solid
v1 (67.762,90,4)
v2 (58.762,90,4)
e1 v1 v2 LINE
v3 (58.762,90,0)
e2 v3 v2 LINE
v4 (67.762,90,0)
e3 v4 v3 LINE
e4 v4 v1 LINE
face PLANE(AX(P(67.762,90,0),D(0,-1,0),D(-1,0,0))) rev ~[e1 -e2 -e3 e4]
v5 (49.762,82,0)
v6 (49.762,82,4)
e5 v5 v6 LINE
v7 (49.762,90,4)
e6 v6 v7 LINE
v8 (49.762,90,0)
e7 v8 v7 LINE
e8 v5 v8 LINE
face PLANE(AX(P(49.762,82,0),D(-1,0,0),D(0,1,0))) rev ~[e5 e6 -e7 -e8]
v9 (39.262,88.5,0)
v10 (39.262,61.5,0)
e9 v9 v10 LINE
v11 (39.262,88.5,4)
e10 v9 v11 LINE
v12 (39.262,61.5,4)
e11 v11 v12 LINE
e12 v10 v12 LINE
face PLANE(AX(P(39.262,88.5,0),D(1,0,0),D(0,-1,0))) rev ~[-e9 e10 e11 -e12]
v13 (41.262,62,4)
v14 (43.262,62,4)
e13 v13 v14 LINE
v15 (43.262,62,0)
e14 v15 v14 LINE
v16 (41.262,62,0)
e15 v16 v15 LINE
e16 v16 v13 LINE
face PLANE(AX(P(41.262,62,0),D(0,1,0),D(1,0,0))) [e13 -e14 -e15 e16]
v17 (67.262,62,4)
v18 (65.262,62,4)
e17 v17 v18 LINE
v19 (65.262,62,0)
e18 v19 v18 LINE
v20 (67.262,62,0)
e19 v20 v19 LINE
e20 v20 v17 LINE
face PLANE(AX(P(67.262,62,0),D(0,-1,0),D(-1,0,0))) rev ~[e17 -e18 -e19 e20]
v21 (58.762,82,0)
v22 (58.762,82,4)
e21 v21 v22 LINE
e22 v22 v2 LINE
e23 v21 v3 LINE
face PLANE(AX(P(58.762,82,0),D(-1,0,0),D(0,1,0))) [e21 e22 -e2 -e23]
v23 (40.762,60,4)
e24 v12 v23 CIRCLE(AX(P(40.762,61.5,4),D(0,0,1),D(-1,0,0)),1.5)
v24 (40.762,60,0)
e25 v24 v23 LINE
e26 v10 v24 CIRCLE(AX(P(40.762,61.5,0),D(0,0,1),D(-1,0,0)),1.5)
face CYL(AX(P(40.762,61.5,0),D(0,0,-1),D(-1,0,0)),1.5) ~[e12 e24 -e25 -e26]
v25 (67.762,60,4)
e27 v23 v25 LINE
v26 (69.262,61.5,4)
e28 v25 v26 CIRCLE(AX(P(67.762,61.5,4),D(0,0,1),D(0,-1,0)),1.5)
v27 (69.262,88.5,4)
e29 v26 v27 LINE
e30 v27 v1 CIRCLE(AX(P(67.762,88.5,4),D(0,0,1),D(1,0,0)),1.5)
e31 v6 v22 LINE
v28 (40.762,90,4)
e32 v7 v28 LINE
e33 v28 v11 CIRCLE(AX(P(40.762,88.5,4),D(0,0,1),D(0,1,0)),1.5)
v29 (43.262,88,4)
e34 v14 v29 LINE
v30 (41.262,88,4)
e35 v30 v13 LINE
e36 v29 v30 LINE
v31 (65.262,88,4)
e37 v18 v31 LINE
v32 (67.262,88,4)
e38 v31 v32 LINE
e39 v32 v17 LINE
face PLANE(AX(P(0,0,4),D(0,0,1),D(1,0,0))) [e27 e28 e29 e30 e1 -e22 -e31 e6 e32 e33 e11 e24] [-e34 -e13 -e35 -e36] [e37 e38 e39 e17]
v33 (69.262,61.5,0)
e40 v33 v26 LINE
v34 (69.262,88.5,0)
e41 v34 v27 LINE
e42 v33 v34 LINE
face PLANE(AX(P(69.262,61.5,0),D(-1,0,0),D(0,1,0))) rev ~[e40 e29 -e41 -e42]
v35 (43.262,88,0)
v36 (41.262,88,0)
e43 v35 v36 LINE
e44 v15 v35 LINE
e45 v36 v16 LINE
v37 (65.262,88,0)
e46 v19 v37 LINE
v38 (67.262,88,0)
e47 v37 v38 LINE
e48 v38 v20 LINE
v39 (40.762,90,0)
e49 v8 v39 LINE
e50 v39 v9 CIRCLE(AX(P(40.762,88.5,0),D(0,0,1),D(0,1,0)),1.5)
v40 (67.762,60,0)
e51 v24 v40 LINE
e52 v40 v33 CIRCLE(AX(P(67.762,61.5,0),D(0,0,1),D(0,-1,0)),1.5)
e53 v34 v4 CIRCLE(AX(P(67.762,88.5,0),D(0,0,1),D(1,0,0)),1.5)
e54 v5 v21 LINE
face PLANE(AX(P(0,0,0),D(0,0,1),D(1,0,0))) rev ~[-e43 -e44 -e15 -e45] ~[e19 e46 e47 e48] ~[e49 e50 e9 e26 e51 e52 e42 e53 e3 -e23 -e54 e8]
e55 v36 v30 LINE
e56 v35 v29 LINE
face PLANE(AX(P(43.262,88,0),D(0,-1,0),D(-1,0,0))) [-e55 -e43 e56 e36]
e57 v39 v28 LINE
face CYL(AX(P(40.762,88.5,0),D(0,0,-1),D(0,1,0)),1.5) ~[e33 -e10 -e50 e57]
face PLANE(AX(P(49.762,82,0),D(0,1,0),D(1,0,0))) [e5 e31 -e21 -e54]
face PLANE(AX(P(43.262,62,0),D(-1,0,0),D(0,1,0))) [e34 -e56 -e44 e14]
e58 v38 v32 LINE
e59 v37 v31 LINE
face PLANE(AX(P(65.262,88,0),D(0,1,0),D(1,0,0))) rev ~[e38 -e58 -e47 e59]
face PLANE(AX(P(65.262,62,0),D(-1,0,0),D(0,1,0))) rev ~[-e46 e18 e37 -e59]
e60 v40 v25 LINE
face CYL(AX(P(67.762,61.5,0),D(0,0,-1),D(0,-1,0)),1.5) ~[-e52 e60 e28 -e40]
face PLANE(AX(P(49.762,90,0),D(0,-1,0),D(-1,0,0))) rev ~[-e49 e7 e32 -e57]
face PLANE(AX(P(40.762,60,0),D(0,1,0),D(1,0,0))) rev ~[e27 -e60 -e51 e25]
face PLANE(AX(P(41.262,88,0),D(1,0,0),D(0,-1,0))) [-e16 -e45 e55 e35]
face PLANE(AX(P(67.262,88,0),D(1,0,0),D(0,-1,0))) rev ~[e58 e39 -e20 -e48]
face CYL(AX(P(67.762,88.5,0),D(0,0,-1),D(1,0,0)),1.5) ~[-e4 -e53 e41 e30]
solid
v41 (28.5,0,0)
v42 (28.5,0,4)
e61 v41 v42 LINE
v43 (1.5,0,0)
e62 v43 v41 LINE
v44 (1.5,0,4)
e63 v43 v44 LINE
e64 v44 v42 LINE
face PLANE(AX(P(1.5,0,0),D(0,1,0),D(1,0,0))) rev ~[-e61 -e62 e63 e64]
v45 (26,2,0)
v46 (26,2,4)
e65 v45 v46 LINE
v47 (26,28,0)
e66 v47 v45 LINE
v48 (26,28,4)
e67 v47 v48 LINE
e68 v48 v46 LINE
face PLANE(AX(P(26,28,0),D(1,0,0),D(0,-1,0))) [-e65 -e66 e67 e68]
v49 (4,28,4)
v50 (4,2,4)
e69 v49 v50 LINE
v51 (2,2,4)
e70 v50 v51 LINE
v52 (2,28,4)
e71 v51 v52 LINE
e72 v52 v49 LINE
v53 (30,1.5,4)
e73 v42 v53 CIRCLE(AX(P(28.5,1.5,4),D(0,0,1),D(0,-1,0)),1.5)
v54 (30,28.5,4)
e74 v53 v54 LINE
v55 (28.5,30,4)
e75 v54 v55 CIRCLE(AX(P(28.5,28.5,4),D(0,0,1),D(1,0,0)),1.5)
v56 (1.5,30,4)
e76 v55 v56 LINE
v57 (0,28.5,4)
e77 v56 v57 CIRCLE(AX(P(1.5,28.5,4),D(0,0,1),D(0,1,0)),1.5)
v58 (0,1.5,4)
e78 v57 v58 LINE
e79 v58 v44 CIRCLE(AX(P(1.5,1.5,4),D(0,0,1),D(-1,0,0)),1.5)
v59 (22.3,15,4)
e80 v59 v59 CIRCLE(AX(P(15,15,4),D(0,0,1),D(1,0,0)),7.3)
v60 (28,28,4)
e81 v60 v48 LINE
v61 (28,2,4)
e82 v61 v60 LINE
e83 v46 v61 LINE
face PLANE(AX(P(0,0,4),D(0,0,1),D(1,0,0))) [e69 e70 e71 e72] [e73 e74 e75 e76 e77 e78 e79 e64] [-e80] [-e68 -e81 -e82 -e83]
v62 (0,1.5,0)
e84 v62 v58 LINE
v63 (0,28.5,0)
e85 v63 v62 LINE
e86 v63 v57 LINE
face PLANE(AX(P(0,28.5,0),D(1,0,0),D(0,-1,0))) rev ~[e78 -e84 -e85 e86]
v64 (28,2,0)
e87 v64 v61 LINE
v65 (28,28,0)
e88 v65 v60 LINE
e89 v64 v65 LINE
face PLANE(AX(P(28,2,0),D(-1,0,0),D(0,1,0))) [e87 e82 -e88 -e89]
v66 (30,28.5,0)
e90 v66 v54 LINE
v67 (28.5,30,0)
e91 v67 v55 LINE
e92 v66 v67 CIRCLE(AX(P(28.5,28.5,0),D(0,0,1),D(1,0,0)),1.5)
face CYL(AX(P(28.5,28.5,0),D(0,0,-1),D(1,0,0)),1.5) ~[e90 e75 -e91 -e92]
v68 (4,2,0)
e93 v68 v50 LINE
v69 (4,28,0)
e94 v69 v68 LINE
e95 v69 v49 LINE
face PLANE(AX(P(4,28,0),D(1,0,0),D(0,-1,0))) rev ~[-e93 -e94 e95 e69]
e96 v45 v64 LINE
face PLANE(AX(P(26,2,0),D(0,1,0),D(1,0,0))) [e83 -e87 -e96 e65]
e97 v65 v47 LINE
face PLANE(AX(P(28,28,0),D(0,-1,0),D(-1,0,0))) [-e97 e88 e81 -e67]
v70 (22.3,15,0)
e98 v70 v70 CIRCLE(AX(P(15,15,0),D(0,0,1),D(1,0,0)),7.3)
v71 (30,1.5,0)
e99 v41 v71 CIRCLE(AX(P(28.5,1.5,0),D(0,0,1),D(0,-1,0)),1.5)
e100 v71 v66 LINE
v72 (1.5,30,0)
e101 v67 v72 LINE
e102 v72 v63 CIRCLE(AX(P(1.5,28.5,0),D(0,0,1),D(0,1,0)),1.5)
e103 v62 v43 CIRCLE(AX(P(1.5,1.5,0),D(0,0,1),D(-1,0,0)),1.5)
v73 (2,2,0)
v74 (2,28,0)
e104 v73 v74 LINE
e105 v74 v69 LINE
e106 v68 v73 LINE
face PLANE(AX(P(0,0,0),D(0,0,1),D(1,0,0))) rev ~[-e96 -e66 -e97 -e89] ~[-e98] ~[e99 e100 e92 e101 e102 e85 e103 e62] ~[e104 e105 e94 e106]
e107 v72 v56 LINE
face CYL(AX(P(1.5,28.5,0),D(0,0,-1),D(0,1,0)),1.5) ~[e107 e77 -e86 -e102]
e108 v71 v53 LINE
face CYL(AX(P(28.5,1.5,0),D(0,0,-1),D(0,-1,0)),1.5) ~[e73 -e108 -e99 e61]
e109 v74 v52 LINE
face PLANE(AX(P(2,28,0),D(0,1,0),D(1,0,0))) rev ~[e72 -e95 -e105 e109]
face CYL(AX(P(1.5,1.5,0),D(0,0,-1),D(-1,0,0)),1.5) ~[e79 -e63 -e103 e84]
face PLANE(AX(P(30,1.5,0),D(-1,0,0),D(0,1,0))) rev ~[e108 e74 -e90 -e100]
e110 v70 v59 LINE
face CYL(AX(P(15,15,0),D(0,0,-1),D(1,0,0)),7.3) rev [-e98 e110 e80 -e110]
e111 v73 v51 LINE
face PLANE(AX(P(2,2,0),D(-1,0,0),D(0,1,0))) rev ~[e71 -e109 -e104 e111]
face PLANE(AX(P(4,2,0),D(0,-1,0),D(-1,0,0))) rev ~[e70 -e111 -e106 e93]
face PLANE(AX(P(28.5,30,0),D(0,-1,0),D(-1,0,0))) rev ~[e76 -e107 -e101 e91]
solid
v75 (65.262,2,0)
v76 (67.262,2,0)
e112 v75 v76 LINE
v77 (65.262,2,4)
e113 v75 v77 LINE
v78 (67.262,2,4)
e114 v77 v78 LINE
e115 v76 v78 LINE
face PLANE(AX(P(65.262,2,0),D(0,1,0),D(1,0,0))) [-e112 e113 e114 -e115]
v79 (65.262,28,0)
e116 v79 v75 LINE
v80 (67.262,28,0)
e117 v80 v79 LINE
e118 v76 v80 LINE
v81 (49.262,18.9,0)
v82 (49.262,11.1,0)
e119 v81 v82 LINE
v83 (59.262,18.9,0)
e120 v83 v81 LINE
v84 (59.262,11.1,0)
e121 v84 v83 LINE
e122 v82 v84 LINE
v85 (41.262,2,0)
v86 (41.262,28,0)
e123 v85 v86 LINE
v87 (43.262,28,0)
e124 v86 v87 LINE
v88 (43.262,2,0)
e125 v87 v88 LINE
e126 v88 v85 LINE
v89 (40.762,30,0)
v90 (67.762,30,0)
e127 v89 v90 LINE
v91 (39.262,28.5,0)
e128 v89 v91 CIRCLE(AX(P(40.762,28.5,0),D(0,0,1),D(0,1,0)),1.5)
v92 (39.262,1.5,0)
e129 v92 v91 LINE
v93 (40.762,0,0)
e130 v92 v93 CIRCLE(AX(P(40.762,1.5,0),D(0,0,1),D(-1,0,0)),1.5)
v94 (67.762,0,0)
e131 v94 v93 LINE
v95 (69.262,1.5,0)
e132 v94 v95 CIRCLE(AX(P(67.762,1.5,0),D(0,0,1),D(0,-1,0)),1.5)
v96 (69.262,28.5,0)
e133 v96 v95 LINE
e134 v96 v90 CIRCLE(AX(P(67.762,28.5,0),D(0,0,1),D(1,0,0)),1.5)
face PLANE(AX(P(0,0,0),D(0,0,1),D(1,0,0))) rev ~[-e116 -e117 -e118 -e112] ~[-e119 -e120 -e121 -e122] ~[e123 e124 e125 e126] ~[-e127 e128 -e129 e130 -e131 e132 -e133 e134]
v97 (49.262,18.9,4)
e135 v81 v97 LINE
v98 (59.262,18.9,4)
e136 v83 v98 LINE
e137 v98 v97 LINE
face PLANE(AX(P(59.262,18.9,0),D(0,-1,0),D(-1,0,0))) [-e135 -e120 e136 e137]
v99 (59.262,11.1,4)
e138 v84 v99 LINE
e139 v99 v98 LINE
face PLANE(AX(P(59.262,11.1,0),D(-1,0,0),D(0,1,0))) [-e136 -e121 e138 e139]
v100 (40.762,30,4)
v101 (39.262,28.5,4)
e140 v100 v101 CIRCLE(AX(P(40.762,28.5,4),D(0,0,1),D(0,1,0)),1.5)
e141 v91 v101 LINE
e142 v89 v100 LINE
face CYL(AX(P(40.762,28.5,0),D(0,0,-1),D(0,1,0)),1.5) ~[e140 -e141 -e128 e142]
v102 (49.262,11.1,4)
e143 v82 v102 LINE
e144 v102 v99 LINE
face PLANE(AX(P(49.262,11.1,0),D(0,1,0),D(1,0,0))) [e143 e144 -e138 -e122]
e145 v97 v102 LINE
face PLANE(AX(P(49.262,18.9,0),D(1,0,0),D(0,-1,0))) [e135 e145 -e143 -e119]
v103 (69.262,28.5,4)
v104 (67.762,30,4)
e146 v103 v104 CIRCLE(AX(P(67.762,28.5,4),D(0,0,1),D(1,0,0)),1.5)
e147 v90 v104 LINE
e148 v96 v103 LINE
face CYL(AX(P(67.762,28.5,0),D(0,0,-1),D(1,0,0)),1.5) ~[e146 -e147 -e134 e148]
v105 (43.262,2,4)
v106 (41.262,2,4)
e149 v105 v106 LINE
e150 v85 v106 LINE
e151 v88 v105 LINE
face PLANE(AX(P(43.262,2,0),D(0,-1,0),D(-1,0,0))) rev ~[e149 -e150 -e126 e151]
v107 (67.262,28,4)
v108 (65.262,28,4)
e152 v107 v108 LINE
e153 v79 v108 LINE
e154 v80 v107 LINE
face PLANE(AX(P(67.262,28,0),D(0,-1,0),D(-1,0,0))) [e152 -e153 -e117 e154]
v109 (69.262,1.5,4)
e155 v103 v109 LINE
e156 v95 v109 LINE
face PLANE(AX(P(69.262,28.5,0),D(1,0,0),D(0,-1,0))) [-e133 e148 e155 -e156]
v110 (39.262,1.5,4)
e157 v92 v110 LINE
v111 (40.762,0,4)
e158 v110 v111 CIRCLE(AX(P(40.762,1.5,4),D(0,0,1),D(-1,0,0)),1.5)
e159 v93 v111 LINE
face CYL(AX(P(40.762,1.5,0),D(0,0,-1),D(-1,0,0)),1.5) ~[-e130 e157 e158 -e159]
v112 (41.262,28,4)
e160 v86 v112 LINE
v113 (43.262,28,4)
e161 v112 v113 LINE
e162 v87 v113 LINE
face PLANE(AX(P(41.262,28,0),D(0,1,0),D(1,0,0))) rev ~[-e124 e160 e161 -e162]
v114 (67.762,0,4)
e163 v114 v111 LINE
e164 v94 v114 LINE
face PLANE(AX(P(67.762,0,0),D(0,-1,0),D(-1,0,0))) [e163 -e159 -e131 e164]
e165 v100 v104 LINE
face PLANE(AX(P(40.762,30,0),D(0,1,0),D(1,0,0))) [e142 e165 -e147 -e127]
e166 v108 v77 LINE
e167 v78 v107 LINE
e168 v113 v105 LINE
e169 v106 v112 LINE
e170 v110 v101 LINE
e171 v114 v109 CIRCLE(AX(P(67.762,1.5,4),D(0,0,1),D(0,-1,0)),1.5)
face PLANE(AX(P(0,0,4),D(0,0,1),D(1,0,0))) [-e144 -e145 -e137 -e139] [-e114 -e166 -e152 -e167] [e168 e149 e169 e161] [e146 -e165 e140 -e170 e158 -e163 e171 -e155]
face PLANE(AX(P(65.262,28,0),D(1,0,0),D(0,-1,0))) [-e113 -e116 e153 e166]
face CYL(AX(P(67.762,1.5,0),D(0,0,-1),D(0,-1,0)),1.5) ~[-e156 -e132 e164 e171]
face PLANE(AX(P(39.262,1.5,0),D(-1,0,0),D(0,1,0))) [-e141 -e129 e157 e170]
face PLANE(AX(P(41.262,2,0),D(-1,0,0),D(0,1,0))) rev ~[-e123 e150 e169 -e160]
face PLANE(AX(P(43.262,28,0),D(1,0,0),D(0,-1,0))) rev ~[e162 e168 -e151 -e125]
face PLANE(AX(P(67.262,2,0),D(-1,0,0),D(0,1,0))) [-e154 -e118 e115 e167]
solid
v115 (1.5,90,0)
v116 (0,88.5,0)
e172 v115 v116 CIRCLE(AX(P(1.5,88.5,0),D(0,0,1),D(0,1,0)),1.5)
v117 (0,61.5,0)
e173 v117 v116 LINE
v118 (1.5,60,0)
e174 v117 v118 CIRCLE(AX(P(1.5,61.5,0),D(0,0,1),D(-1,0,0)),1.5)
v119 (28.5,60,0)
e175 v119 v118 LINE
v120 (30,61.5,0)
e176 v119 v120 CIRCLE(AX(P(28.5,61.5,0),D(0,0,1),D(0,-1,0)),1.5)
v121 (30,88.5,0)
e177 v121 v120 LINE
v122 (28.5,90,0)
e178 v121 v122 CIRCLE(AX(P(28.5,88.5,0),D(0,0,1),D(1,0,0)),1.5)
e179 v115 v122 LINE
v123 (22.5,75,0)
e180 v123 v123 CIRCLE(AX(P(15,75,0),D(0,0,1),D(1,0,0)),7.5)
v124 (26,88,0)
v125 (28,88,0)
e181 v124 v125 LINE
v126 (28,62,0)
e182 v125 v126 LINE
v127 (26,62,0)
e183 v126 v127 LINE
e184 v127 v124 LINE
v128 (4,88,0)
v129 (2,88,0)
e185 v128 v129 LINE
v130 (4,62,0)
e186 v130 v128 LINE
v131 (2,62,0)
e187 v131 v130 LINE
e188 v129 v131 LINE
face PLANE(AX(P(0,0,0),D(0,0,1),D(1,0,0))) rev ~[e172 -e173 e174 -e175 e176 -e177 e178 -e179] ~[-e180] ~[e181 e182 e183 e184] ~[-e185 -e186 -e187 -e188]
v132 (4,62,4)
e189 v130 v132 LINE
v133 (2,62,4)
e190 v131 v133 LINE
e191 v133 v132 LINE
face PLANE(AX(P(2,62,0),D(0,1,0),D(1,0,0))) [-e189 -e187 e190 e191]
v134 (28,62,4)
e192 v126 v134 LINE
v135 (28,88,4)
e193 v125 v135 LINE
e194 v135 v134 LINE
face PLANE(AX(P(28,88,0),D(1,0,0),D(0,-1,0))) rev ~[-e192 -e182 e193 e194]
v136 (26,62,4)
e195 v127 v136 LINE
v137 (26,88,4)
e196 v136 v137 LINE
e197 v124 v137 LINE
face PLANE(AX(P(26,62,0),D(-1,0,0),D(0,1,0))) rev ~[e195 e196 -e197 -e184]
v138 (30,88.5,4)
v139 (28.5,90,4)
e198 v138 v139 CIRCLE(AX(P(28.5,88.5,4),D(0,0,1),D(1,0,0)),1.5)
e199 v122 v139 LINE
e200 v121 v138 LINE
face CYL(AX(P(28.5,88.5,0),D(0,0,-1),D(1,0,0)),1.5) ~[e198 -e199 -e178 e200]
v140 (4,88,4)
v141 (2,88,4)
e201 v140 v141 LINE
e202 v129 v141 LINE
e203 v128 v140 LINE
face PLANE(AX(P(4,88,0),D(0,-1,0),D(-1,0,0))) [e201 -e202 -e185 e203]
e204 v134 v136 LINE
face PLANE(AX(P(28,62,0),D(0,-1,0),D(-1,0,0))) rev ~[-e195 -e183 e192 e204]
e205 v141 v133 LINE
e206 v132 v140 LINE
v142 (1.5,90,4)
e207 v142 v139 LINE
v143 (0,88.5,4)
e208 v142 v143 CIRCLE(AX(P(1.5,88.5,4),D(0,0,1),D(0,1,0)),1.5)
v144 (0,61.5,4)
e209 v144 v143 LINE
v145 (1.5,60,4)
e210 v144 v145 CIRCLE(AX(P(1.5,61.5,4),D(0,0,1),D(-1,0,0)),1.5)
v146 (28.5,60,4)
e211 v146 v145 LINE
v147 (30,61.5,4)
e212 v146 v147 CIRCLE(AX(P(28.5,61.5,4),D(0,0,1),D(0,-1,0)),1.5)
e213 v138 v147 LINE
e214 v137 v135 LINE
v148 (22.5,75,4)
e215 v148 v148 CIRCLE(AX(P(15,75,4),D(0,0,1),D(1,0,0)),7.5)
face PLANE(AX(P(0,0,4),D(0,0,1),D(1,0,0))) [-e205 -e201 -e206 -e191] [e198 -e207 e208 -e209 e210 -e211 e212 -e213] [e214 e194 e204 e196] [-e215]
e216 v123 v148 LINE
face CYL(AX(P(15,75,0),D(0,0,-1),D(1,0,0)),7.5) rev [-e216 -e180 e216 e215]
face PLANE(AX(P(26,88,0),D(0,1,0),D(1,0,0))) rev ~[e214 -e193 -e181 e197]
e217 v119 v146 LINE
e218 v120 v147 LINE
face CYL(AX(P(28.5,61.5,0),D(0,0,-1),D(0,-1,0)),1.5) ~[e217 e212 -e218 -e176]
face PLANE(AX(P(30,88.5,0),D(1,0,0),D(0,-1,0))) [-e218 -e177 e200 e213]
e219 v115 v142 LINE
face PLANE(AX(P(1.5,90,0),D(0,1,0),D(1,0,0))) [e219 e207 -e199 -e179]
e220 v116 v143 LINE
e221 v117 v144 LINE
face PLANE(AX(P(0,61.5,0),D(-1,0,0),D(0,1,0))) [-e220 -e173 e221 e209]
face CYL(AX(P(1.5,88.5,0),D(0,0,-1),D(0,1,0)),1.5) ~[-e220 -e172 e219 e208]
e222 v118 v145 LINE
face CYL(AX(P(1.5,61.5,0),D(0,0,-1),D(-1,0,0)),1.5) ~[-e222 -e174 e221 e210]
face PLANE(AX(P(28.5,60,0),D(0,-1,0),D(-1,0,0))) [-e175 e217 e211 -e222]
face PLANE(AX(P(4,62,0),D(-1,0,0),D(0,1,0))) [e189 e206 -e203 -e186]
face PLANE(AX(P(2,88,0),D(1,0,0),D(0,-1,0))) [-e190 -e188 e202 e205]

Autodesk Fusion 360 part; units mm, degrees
ref_plane "WorkPlane1" through (0, 0, 0) normal (0, 0, 1) x (1, 0, 0)
sketch "Sketch1" plane through (0, 0, 0) normal (0, 0, 1) x (1, 0, 0)
  line L0 (1.5, 0) -> (28.5, 0)
  line L1 (30, 1.5) -> (30, 28.5)
  line L2 (28.5, 30) -> (1.5, 30)
  line L3 (0, 28.5) -> (0, 1.5)
  arc A0 (30, 28.5) -> (28.5, 30) centre (28.5, 28.5) ccw
  arc A1 (1.5, 30) -> (0, 28.5) centre (1.5, 28.5) ccw
  arc A2 (0, 1.5) -> (1.5, 0) centre (1.5, 1.5) ccw
  arc A3 (28.5, 0) -> (30, 1.5) centre (28.5, 1.5) ccw
  line L4 (15, 0) -> (15, 30) construction
  line L5 (34.631, -0.4878) -> (34.631, 26.5001) construction
  line L6 (30, 15) -> (0, 15) construction
  arc A4 (40.762, 30) -> (39.262, 28.5) centre (40.762, 28.5) ccw
  line L7 (40.762, 30) -> (67.762, 30)
  arc A5 (69.262, 28.5) -> (67.762, 30) centre (67.762, 28.5) ccw
  line L8 (69.262, 28.5) -> (69.262, 1.5)
  arc A6 (67.762, 0) -> (69.262, 1.5) centre (67.762, 1.5) ccw
  line L9 (67.762, 0) -> (40.762, 0)
  arc A7 (39.262, 1.5) -> (40.762, 0) centre (40.762, 1.5) ccw
  line L10 (39.262, 1.5) -> (39.262, 28.5)
  line L11 (39.262, 15) -> (69.262, 15) construction
  line L12 (54.262, 0) -> (54.262, 30) construction
  line L13 (4, 2) -> (2, 2)
  line L14 (2, 2) -> (2, 28)
  line L15 (2, 28) -> (4, 28)
  line L16 (4, 28) -> (4, 2)
  line L17 (28, 28) -> (26, 28)
  line L18 (26, 28) -> (26, 2)
  line L19 (28, 2) -> (28, 28)
  line L20 (26, 2) -> (28, 2)
  line L21 (67.262, 28) -> (65.262, 28)
  line L22 (65.262, 28) -> (65.262, 2)
  line L23 (67.262, 2) -> (67.262, 28)
  line L24 (65.262, 2) -> (67.262, 2)
  line L25 (43.262, 28) -> (43.262, 2)
  line L26 (41.262, 2) -> (41.262, 28)
  line L27 (43.262, 2) -> (41.262, 2)
  line L28 (41.262, 28) -> (43.262, 28)
  line L29 (0, 45) -> (70, 45) construction
  line L30 (67.262, 62) -> (65.262, 62)
  line L31 (43.262, 62) -> (43.262, 88)
  line L32 (28, 88) -> (28, 62)
  arc A8 (28.5, 60) -> (30, 61.5) centre (28.5, 61.5) ccw
  line L33 (34.631, 90.4878) -> (34.631, 63.4999) construction
  line L34 (4, 88) -> (2, 88)
  line L35 (15, 90) -> (15, 60) construction
  line L36 (39.262, 75) -> (69.262, 75) construction
  arc A9 (40.762, 90) -> (39.262, 88.5) centre (40.762, 88.5) ccw
  arc A10 (30, 88.5) -> (28.5, 90) centre (28.5, 88.5) ccw
  arc A11 (67.762, 60) -> (69.262, 61.5) centre (67.762, 61.5) ccw
  line L37 (0, 61.5) -> (0, 88.5)
  line L38 (30, 88.5) -> (30, 61.5)
  line L39 (1.5, 90) -> (28.5, 90)
  arc A12 (1.5, 90) -> (0, 88.5) centre (1.5, 88.5) ccw
  line L40 (4, 62) -> (4, 88)
  line L41 (28, 62) -> (26, 62)
  arc A13 (39.262, 61.5) -> (40.762, 60) centre (40.762, 61.5) ccw
  line L42 (65.262, 88) -> (67.262, 88)
  line L43 (26, 88) -> (28, 88)
  line L44 (65.262, 62) -> (65.262, 88)
  line L45 (41.262, 62) -> (43.262, 62)
  line L46 (67.262, 88) -> (67.262, 62)
  line L47 (2, 88) -> (2, 62)
  line L48 (2, 62) -> (4, 62)
  line L49 (67.762, 90) -> (40.762, 90)
  line L50 (69.262, 61.5) -> (69.262, 88.5)
  arc A14 (0, 61.5) -> (1.5, 60) centre (1.5, 61.5) ccw
  line L51 (40.762, 60) -> (67.762, 60)
  line L52 (41.262, 88) -> (41.262, 62)
  line L53 (28.5, 60) -> (1.5, 60)
  line L54 (30, 75) -> (0, 75) construction
  line L55 (54.262, 90) -> (54.262, 60) construction
  line L56 (43.262, 88) -> (41.262, 88)
  arc A15 (69.262, 88.5) -> (67.762, 90) centre (67.762, 88.5) ccw
  line L57 (26, 62) -> (26, 88)
  line L58 (39.262, 88.5) -> (39.262, 61.5)
  circle A16 centre (15, 15) radius 7.3
  circle A17 centre (15, 75) radius 7.5
  line L59 (59.262, 18.9) -> (49.262, 18.9)
  line L60 (49.262, 18.9) -> (49.262, 11.1)
  line L61 (49.262, 11.1) -> (59.262, 11.1)
  line L62 (59.262, 11.1) -> (59.262, 18.9)
  line L63 (59.262, 18.9) -> (49.262, 11.1) construction
  line L64 (49.262, 18.9) -> (59.262, 11.1) construction
  line L65 (49.762, 82) -> (58.762, 82)
  line L66 (15, 82.5) -> (61.4441, 82.5) construction
  line L67 (49.762, 82) -> (49.762, 90)
  line L68 (58.762, 82) -> (58.762, 90)
  line L69 (58.762, 90) -> (49.762, 90)
  point P0 (30, 0)
  point P1 (0, 30)
  point P2 (0, 90)
  point P3 (0, 60)
  point P4 (30, 90)
  point P5 (0, 90)
  point P6 (54.262, 15)
  dimension "d9" = 30
  dimension "d10" = 30
  dimension "d18" = 1.5
  dimension "d19" = 1.5
  dimension "d20" = 1.5
  dimension "d21" = 1.5
  dimension "d41" = 2
  dimension "d42" = 2
  dimension "d43" = 2
  dimension "d44" = 2
  dimension "d45" = 14.6
  dimension "d46" = 15
  dimension "d54" = 10
  dimension "d55" = 7.8
  dimension "d57" = 9
extrude "Extrude4" add sketch "Sketch1" along normal blind 4 contours L0 L1 L2 L3 A0 A1 A2 A3 | A4 L7 A5 L8 A6 L9 A7 L10 | A8 A10 L37 L38 L39 A12 A14 L53 | A9 A11 A13 L49 L50 L51 A15 L58 L65 L67 L68 makes body 1 at (14.8182, 26.0932, 0) makes body 2 at (15.1868, 63.8403, 0) makes body 3 at (52.5953, 5.0333, 0) makes body 4 at (55.762, 68.6667, 0)
sketch "speaker_top" plane through (0, 0, 4) normal (0, 0, 1) x (-1, 0, 0)
  circle A0 centre (-15, -75) radius 7.5
  line L0 (-28, -62) -> (-26, -62)
  line L1 (-26, -62) -> (-26, -88)
  line L2 (-26, -88) -> (-28, -88)
  line L3 (-28, -88) -> (-28, -62)
  line L4 (-4, -62) -> (-2, -62)
  line L5 (-2, -62) -> (-2, -88)
  line L6 (-2, -88) -> (-4, -88)
  line L7 (-4, -88) -> (-4, -62)
  arc A1 (-30, -88.5) -> (-28.5, -90) centre (-28.5, -88.5) ccw
  line L8 (-28.5, -90) -> (-1.5, -90)
  arc A2 (-1.5, -90) -> (0, -88.5) centre (-1.5, -88.5) ccw
  line L9 (0, -88.5) -> (0, -61.5)
  arc A3 (0, -61.5) -> (-1.5, -60) centre (-1.5, -61.5) ccw
  line L10 (-1.5, -60) -> (-28.5, -60)
  arc A4 (-28.5, -60) -> (-30, -61.5) centre (-28.5, -61.5) ccw
  line L11 (-30, -61.5) -> (-30, -88.5)
sketch "speaker_bottom" plane through (0, 0, 4) normal (0, 0, 1) x (-1, 0, 0)
  line L0 (-41.262, -88) -> (-43.262, -88)
  line L1 (-43.262, -88) -> (-43.262, -62)
  line L2 (-43.262, -62) -> (-41.262, -62)
  line L3 (-41.262, -62) -> (-41.262, -88)
  line L4 (-65.262, -88) -> (-67.262, -88)
  line L5 (-67.262, -88) -> (-67.262, -62)
  line L6 (-67.262, -62) -> (-65.262, -62)
  line L7 (-65.262, -62) -> (-65.262, -88)
  line L8 (-49.762, -82) -> (-49.762, -90)
  line L9 (-49.762, -90) -> (-40.762, -90)
  arc A0 (-40.762, -90) -> (-39.262, -88.5) centre (-40.762, -88.5) ccw
  line L10 (-39.262, -88.5) -> (-39.262, -61.5)
  arc A1 (-39.262, -61.5) -> (-40.762, -60) centre (-40.762, -61.5) ccw
  line L11 (-40.762, -60) -> (-67.762, -60)
  arc A2 (-67.762, -60) -> (-69.262, -61.5) centre (-67.762, -61.5) ccw
  line L12 (-69.262, -61.5) -> (-69.262, -88.5)
  arc A3 (-69.262, -88.5) -> (-67.762, -90) centre (-67.762, -88.5) ccw
  line L13 (-67.762, -90) -> (-58.762, -90)
  line L14 (-58.762, -90) -> (-58.762, -82)
  line L15 (-58.762, -82) -> (-49.762, -82)
sketch "mic_top" plane through (0, 0, 4) normal (0, 0, 1) x (-1, 0, 0)
  circle A0 centre (-15, -15) radius 7.3
  line L0 (-28, -2) -> (-26, -2)
  line L1 (-26, -2) -> (-26, -28)
  line L2 (-26, -28) -> (-28, -28)
  line L3 (-28, -28) -> (-28, -2)
  line L4 (-2, -28) -> (-4, -28)
  line L5 (-4, -28) -> (-4, -2)
  line L6 (-4, -2) -> (-2, -2)
  line L7 (-2, -2) -> (-2, -28)
  arc A1 (-28.5, 0) -> (-30, -1.5) centre (-28.5, -1.5) ccw
  line L8 (-30, -1.5) -> (-30, -28.5)
  arc A2 (-30, -28.5) -> (-28.5, -30) centre (-28.5, -28.5) ccw
  line L9 (-28.5, -30) -> (-1.5, -30)
  arc A3 (-1.5, -30) -> (0, -28.5) centre (-1.5, -28.5) ccw
  line L10 (0, -28.5) -> (0, -1.5)
  arc A4 (0, -1.5) -> (-1.5, 0) centre (-1.5, -1.5) ccw
  line L11 (-1.5, 0) -> (-28.5, 0)
sketch "mic_bottom" plane through (0, 0, 4) normal (0, 0, 1) x (-1, 0, 0)
  line L0 (-67.262, -2) -> (-65.262, -2)
  line L1 (-65.262, -2) -> (-65.262, -28)
  line L2 (-65.262, -28) -> (-67.262, -28)
  line L3 (-67.262, -28) -> (-67.262, -2)
  line L4 (-41.262, -2) -> (-41.262, -28)
  line L5 (-41.262, -28) -> (-43.262, -28)
  line L6 (-43.262, -28) -> (-43.262, -2)
  line L7 (-43.262, -2) -> (-41.262, -2)
  line L8 (-59.262, -18.9) -> (-59.262, -11.1)
  line L9 (-59.262, -11.1) -> (-49.262, -11.1)
  line L10 (-49.262, -11.1) -> (-49.262, -18.9)
  line L11 (-49.262, -18.9) -> (-59.262, -18.9)
  arc A0 (-67.762, 0) -> (-69.262, -1.5) centre (-67.762, -1.5) ccw
  line L12 (-69.262, -1.5) -> (-69.262, -28.5)
  arc A1 (-69.262, -28.5) -> (-67.762, -30) centre (-67.762, -28.5) ccw
  line L13 (-67.762, -30) -> (-40.762, -30)
  arc A2 (-40.762, -30) -> (-39.262, -28.5) centre (-40.762, -28.5) ccw
  line L14 (-39.262, -28.5) -> (-39.262, -1.5)
  arc A3 (-39.262, -1.5) -> (-40.762, 0) centre (-40.762, -1.5) ccw
  line L15 (-40.762, 0) -> (-67.762, 0)
equation "microphone_diameter = 14.6 mm"
equation "speaker_diameter = 15 mm"
equation "object_length = 30 mm"
equation "object_height = 4 mm"
equation "tolerance_to_object = 2 mm"
equation "strap_height = 25 mm"
equation "strap_width = 2 mm"
equation "d9 = object_length"
equation "d10 = object_length"
equation "d41 = tolerance_to_object"
equation "d42 = tolerance_to_object"
equation "d43 = strap_width"
equation "d44 = tolerance_to_object"
equation "d45 = microphone_diameter"
equation "d46 = speaker_diameter"
equation "speaker_connector_distance = 9 mm"
equation "mic_connector_distance = 10 mm"
equation "d54 = mic_connector_distance"
equation "d55 = mic_pin_length"
equation "mic_pin_length = 7.8 mm"
equation "d57 = speaker_connector_distance"
equation "d60 = object_height"
